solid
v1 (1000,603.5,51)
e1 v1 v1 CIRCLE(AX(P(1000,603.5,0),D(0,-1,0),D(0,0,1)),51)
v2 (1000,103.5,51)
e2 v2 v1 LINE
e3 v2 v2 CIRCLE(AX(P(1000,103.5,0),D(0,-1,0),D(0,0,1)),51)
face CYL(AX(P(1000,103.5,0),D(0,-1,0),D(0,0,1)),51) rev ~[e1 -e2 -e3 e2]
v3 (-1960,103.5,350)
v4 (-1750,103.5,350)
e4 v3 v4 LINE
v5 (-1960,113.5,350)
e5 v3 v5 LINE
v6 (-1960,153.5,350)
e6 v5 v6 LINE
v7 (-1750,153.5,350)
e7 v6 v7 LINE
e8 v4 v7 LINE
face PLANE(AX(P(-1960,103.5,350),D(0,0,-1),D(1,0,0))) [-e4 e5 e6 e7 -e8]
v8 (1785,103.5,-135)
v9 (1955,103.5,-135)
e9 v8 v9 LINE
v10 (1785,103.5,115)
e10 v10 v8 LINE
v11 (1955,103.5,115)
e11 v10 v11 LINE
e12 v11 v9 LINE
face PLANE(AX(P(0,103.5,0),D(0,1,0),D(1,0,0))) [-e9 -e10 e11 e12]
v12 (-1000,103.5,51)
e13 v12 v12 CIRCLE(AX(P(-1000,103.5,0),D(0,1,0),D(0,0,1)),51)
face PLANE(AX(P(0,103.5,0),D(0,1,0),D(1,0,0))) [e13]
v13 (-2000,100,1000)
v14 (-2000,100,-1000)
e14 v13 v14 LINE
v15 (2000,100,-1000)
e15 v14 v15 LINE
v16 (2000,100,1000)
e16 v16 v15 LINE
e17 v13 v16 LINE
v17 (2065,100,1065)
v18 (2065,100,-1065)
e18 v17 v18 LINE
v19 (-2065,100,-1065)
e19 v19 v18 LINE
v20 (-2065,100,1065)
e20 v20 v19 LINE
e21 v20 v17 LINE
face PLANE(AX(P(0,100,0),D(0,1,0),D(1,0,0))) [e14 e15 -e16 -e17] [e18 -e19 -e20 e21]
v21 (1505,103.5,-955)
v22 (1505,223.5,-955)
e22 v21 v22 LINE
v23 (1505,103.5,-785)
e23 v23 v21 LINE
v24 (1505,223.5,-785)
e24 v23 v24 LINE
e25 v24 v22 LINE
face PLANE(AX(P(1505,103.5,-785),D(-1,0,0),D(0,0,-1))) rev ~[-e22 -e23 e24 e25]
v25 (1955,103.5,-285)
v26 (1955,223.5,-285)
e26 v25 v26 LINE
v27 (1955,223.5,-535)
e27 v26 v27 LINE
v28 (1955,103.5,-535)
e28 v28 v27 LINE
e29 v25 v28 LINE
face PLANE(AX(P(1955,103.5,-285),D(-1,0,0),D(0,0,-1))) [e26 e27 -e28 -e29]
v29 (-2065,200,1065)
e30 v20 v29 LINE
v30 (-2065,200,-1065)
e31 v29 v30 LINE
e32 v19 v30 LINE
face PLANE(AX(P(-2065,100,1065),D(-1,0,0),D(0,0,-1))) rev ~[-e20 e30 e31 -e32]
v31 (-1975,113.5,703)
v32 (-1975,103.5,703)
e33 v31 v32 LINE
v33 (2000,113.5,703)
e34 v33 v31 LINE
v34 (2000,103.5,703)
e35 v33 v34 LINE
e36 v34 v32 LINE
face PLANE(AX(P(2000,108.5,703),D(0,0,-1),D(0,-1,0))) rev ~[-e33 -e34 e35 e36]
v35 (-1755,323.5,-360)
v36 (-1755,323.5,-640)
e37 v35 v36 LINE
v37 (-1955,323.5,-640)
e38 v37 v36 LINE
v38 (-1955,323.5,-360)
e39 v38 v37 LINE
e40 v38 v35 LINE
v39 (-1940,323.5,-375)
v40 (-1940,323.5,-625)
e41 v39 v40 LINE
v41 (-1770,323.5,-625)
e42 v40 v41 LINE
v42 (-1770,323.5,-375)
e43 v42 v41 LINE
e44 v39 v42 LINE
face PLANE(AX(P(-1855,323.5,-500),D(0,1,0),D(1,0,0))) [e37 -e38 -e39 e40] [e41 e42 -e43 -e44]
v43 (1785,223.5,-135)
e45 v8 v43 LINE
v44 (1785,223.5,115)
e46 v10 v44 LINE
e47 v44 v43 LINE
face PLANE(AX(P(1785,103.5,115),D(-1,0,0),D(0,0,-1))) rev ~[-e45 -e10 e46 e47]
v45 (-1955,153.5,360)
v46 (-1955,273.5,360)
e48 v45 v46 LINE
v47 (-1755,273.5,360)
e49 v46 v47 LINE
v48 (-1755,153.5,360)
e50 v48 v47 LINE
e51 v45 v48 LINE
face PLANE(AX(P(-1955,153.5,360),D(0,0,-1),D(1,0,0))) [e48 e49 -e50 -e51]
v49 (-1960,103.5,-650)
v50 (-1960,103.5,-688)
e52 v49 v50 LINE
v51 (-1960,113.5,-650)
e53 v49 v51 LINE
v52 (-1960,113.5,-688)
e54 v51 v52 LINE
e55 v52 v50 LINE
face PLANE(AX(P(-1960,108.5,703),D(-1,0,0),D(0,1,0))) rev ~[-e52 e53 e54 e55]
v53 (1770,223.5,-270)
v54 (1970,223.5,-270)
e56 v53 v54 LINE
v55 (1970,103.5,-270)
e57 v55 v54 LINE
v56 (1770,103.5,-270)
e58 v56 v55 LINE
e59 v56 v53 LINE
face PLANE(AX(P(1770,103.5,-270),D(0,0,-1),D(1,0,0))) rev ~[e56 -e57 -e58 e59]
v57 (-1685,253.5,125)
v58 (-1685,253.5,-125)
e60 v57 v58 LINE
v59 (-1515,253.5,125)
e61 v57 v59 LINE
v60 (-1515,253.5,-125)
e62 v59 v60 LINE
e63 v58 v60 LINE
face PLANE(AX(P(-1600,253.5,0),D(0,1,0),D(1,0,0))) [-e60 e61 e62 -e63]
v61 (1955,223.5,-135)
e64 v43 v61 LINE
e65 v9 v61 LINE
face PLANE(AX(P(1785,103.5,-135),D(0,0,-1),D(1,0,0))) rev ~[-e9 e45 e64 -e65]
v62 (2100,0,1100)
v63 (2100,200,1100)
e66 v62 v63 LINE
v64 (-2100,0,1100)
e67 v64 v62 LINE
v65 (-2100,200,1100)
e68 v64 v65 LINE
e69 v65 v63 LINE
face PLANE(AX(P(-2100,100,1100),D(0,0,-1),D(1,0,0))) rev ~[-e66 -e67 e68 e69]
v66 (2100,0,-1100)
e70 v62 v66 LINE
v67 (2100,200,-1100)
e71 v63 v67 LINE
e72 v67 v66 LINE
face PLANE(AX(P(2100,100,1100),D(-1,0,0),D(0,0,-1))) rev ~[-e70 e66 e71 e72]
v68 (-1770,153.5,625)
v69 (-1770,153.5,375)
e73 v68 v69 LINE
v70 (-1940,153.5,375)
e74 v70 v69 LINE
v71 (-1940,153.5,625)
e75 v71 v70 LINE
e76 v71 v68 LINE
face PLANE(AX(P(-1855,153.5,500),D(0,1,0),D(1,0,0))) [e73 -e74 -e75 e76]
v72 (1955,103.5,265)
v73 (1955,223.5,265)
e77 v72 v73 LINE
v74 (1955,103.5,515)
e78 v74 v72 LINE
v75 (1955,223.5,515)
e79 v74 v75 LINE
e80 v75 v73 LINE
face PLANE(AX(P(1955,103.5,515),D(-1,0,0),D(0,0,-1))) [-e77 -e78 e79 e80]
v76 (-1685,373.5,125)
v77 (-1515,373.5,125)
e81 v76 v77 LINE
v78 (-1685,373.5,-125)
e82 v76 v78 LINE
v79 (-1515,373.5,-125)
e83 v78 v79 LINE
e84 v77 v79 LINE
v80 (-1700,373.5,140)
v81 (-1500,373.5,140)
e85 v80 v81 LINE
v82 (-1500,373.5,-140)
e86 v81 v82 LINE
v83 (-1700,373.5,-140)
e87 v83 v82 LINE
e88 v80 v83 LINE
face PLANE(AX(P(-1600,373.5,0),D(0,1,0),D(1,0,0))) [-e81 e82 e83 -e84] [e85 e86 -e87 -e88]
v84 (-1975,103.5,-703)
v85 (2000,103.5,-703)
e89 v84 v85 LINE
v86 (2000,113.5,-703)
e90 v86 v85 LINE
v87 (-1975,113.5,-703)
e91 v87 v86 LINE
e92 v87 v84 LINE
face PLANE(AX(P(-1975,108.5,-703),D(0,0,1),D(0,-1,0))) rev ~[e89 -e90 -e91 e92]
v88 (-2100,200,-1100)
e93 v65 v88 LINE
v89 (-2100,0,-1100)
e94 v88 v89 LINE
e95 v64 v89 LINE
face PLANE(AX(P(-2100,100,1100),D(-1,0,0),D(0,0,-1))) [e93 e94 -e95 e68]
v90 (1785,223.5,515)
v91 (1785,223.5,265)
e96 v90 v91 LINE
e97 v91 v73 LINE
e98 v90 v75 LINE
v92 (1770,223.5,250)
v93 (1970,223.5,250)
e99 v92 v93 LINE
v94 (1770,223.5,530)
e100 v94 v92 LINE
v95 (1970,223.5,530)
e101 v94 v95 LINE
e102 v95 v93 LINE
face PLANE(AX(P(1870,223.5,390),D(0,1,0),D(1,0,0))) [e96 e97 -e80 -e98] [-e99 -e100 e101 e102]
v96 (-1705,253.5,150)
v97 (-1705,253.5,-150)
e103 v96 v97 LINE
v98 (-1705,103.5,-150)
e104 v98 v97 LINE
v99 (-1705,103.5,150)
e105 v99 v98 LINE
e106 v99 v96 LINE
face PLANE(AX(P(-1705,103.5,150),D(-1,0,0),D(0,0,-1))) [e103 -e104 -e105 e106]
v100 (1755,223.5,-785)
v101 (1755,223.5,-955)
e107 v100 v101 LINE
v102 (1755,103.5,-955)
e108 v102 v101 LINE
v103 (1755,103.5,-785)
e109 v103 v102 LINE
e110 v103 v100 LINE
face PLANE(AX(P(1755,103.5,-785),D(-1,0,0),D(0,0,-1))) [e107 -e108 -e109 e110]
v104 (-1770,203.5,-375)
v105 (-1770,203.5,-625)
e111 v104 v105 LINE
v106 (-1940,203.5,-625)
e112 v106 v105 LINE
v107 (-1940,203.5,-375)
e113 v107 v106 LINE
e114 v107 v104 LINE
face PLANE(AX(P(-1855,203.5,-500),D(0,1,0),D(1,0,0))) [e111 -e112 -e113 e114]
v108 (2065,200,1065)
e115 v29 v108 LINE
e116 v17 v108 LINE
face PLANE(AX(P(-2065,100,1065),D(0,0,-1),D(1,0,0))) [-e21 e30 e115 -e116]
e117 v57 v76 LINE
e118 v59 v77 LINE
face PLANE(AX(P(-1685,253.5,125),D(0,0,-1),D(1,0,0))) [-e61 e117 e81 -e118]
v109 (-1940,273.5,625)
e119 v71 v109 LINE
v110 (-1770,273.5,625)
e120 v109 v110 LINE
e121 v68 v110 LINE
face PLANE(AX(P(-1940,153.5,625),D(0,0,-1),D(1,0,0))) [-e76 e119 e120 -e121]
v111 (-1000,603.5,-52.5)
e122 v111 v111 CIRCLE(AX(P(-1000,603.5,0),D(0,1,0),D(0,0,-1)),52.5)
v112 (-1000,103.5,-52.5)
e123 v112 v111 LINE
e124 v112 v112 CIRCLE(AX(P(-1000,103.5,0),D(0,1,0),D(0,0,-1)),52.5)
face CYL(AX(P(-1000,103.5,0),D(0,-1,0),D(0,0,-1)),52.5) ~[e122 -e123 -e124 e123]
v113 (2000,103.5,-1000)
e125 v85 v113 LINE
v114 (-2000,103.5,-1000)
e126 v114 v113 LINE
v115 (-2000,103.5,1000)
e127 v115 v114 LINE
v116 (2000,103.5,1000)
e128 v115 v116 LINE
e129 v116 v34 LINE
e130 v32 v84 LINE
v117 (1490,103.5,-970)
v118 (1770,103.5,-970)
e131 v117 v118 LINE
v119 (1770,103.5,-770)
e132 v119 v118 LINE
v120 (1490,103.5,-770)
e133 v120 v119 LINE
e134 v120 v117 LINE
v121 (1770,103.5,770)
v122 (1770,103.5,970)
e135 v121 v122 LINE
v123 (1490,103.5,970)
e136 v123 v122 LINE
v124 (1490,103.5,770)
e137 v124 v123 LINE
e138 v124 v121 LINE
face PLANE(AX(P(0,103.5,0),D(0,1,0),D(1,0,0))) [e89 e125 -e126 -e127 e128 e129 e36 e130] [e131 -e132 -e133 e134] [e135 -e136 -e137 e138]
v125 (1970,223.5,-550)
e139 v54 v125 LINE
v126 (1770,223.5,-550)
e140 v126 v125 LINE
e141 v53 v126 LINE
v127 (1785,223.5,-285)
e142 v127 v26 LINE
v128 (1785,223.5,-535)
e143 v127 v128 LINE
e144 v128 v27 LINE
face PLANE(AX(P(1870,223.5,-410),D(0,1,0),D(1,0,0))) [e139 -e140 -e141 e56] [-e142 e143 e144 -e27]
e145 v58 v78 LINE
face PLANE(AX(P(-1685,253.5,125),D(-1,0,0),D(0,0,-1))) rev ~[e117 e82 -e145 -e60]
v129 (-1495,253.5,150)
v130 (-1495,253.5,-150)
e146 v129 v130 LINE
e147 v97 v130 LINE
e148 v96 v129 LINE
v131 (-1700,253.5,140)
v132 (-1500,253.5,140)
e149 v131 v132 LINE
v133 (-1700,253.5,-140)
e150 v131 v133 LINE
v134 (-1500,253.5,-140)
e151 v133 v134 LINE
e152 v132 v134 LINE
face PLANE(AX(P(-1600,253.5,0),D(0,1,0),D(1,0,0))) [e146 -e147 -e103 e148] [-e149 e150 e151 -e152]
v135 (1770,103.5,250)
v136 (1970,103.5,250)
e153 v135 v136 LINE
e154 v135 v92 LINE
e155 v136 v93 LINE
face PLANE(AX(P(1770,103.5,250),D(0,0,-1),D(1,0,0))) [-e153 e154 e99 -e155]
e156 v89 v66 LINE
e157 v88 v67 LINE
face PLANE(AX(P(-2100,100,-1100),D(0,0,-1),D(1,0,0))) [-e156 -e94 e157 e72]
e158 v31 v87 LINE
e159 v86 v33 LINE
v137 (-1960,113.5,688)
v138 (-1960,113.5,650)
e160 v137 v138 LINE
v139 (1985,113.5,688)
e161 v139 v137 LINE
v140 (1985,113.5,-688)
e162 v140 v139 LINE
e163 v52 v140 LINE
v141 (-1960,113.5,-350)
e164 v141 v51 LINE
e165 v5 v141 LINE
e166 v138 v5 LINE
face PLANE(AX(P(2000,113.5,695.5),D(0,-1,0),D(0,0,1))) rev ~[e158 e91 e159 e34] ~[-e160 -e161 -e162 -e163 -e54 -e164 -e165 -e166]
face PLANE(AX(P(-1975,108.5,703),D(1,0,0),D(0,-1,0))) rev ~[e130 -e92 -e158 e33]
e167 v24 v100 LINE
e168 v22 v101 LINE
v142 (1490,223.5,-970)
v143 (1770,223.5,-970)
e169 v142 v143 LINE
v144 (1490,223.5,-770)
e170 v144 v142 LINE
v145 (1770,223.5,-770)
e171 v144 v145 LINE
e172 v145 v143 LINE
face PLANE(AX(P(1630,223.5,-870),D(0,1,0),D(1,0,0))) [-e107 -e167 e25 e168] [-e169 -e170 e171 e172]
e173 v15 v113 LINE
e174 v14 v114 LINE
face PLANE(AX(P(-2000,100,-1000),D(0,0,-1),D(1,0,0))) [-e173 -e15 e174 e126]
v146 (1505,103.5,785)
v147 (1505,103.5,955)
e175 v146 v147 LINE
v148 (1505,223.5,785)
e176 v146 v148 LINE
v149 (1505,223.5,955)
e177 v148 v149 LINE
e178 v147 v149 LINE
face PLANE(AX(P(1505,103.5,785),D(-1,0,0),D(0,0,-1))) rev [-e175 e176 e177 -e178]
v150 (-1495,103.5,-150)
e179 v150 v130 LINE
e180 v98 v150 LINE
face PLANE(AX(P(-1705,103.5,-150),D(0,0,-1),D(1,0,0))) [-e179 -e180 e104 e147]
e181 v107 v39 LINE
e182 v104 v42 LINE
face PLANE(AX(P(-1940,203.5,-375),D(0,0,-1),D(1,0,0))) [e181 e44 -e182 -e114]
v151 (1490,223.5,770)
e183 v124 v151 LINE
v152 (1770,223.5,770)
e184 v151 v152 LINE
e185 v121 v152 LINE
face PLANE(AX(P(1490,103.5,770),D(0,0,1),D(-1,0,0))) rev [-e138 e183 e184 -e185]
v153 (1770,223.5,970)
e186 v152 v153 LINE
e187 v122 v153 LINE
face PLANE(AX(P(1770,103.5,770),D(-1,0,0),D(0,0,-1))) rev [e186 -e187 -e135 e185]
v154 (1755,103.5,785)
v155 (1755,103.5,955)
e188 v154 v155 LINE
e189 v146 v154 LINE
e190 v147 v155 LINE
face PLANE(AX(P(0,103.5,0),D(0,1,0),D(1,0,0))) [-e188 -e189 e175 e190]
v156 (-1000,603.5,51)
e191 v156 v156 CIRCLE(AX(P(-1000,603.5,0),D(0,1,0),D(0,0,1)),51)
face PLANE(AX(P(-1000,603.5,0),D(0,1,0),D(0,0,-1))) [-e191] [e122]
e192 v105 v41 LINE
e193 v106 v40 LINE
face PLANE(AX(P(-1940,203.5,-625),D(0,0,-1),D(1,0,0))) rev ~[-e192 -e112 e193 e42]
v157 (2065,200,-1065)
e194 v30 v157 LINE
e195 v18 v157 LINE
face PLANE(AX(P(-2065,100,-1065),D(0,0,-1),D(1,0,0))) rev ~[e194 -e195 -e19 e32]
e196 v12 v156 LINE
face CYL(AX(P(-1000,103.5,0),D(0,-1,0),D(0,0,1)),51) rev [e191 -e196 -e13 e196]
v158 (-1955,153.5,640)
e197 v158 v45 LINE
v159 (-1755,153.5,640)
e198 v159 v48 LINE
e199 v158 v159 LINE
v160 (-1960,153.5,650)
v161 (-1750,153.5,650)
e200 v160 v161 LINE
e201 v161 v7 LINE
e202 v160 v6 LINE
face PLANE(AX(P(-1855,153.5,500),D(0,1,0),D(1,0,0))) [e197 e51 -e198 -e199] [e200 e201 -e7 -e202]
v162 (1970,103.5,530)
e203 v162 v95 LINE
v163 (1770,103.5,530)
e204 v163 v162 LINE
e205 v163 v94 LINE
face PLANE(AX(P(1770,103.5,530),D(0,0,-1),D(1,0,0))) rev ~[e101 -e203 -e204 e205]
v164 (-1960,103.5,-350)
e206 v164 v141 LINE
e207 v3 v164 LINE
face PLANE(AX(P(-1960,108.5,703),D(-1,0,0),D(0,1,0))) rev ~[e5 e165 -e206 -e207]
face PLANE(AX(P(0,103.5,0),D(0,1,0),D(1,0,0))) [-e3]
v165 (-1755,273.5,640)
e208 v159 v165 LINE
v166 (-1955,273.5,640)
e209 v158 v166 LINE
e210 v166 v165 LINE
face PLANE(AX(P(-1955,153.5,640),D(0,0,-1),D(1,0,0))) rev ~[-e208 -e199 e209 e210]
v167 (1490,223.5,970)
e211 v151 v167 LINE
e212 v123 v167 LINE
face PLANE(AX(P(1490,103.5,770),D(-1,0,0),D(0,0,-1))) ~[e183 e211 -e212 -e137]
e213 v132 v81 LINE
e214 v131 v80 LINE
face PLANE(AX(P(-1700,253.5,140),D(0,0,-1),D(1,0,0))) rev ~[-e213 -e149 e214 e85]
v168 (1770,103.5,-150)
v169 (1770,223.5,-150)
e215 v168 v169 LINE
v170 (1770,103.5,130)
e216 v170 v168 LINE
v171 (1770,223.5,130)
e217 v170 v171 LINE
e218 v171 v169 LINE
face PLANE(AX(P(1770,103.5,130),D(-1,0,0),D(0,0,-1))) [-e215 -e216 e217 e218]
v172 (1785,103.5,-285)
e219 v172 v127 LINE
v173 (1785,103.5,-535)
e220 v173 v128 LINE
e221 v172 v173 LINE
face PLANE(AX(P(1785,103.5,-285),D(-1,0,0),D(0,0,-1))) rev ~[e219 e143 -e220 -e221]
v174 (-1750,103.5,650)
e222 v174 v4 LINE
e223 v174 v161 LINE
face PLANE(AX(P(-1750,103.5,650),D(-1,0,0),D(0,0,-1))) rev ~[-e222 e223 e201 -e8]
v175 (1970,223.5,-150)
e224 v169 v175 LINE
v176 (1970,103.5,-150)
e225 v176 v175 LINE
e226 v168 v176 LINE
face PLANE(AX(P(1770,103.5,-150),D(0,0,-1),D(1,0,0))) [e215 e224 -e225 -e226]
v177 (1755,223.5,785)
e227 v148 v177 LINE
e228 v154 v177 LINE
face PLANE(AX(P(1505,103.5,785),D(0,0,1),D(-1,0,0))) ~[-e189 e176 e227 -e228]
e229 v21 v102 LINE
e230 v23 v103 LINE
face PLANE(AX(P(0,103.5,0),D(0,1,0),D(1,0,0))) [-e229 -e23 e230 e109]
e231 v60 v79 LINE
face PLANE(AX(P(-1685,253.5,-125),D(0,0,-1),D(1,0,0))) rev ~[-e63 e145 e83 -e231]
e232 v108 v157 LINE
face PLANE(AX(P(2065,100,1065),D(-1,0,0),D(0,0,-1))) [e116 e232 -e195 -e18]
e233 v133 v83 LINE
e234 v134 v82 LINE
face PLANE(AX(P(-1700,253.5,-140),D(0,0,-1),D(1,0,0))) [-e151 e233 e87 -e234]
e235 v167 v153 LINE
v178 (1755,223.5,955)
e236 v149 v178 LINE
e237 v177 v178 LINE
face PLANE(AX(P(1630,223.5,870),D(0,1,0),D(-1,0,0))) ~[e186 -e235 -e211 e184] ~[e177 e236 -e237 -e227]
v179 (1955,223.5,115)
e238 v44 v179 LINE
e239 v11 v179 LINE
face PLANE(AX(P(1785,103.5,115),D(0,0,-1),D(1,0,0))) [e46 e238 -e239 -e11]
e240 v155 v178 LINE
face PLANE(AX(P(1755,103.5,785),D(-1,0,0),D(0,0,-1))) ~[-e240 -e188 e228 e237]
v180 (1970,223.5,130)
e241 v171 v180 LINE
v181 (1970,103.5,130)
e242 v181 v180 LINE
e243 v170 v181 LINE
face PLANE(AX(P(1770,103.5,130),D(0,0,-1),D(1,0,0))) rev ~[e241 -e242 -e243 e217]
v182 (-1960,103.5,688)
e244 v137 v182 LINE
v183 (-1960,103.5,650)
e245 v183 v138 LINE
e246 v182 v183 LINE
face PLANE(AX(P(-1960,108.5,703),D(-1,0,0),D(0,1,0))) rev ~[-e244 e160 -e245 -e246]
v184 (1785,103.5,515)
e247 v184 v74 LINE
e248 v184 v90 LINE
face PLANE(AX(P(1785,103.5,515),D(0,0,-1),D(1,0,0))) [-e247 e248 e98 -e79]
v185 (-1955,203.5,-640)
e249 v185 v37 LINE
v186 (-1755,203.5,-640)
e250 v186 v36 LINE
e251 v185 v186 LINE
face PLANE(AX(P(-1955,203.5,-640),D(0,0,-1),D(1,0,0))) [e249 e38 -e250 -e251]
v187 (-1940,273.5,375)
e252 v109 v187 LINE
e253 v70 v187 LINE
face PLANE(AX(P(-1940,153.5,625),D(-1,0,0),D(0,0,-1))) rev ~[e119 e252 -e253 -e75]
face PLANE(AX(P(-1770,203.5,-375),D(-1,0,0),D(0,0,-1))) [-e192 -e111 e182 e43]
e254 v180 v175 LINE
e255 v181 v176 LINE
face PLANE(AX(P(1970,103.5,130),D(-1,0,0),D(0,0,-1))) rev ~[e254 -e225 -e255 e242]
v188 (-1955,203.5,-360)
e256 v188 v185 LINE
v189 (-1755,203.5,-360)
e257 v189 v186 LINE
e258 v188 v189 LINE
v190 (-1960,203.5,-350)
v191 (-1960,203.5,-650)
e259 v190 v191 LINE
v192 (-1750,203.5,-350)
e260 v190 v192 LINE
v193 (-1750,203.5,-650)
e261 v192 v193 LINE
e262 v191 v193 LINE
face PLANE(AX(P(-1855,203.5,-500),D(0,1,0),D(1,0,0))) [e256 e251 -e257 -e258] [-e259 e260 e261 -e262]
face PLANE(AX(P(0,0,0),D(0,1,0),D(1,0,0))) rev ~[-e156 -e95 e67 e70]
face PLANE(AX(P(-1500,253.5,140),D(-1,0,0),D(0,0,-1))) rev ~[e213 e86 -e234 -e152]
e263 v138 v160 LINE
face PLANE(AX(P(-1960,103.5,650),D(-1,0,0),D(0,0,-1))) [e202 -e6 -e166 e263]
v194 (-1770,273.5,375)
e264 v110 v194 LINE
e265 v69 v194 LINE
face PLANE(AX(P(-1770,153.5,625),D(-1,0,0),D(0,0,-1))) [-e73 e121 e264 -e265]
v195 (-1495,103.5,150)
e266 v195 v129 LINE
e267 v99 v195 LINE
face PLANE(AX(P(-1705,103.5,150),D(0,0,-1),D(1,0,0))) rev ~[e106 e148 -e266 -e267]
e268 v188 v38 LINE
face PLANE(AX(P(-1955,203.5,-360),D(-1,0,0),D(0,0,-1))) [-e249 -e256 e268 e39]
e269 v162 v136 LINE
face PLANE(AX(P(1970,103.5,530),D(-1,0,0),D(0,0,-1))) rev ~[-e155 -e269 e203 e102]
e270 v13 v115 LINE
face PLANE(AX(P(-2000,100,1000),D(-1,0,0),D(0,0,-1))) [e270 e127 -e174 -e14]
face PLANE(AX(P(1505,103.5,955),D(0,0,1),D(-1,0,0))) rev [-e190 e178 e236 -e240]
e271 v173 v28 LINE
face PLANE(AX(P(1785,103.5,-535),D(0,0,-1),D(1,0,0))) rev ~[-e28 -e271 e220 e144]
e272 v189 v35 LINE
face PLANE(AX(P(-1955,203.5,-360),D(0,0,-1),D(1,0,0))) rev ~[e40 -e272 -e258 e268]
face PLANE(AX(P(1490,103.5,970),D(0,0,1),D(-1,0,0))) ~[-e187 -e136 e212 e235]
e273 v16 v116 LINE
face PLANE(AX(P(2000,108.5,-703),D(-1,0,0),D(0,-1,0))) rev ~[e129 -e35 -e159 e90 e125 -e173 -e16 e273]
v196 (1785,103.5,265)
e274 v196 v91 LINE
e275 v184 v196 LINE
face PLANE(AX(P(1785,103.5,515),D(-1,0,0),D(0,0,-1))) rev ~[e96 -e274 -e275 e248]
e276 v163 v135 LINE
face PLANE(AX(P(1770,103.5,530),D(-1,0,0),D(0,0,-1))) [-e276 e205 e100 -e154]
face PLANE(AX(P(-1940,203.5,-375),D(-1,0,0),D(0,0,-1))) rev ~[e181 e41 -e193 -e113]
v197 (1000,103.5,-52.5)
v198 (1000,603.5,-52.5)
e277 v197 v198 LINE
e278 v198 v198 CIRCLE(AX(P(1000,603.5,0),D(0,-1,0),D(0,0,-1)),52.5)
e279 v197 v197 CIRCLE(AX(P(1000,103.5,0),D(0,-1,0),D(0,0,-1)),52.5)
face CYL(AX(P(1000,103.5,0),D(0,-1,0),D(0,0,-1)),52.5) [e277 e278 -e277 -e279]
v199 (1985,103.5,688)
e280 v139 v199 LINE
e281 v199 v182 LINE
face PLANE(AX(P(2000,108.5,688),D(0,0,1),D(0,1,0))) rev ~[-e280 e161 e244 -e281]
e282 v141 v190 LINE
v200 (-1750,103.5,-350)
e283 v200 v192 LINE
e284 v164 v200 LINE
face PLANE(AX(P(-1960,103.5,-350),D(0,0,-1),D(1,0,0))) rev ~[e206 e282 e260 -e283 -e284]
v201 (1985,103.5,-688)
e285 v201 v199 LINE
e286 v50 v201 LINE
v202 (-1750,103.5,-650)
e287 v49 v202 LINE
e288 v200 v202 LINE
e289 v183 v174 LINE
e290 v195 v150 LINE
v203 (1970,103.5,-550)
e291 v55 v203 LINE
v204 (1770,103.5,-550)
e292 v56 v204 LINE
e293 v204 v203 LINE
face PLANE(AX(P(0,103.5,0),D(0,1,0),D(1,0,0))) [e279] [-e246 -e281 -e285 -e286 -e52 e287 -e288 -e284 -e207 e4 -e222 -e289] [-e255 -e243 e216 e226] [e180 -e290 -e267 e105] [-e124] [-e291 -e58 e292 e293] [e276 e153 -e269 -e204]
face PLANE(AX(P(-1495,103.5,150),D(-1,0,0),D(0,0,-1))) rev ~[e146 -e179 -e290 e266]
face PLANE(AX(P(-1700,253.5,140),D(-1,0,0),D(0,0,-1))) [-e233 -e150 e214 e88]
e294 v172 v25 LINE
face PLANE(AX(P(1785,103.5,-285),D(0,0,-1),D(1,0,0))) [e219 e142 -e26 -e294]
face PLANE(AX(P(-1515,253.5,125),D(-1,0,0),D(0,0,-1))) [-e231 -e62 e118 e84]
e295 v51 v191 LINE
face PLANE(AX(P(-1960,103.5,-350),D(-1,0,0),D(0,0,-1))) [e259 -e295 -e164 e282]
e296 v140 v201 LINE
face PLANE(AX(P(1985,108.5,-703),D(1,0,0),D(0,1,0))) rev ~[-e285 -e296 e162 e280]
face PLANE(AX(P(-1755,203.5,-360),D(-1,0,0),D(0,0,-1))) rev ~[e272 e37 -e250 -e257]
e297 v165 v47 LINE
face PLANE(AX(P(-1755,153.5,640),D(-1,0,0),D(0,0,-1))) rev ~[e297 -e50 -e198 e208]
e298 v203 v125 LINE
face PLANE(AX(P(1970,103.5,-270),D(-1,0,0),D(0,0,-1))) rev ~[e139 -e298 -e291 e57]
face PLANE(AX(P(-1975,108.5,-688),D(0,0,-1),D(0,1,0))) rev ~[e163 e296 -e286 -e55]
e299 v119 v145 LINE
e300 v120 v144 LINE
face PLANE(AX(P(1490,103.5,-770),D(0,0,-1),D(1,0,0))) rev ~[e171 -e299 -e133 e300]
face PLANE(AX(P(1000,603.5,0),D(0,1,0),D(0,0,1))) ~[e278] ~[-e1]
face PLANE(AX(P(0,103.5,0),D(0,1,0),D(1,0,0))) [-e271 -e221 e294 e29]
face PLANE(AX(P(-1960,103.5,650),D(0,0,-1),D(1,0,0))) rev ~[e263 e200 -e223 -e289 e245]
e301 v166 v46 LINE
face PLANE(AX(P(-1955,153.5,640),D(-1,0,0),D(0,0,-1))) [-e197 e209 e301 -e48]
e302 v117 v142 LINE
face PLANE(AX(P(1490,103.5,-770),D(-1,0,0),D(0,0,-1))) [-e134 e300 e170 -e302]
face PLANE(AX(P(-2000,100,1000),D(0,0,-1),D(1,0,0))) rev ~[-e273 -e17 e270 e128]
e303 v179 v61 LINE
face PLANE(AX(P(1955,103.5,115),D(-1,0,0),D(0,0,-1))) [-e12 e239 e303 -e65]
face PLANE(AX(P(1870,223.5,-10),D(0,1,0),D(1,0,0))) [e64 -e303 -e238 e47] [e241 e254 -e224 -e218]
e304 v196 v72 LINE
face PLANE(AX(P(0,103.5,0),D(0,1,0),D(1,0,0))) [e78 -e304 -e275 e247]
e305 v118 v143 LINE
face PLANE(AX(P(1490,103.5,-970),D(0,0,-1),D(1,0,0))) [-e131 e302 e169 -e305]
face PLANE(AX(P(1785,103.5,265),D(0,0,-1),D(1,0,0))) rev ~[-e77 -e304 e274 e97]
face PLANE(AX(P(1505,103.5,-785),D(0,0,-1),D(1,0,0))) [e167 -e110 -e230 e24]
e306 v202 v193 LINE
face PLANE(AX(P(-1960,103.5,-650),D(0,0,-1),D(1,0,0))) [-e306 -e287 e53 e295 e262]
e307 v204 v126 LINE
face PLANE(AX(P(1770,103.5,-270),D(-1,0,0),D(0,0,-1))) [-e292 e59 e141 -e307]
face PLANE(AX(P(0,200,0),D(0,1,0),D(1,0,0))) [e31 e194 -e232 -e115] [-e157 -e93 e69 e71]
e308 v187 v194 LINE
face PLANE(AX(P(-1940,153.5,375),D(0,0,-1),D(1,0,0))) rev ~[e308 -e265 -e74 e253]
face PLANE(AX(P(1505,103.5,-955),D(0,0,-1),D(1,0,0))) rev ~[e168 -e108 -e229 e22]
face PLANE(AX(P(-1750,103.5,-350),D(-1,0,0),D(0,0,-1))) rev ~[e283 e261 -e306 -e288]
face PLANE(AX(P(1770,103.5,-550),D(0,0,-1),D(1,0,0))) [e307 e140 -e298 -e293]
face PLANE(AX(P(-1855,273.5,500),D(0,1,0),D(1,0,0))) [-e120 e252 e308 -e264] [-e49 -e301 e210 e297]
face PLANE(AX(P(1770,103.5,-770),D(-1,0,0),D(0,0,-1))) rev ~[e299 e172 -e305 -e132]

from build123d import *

# Parameters (mm, degrees)
SKETCH_1_W             = 4200
SKETCH_1_H             = 2200
EXTRUDE_1_DEPTH        = 100
SKETCH_2_W             = 4000
SKETCH_2_H             = 2000
EXTRUDE_2_DEPTH        = 3.5
SKETCH_3_W             = 4200
SKETCH_3_H             = 2200
SKETCH_3_W_2           = 4130
SKETCH_3_H_2           = 2130
EXTRUDE_4_DEPTH        = 100
SKETCH_4_W             = 210
SKETCH_4_H             = 300
EXTRUDE_5_DEPTH        = 100
SKETCH_4_4_W           = 210
SKETCH_4_4_H           = 300
EXTRUDE_6_DEPTH        = 150
SKETCH_4_5_W           = 210
SKETCH_4_5_H           = 300
EXTRUDE_7_DEPTH        = 50
SKETCH_7_R             = 52.5
SKETCH_7_R_2           = 51
EXTRUDE_8_DEPTH        = 500
SKETCH_8_W             = 280
SKETCH_8_H             = 200
SKETCH_8_W_2           = 250
SKETCH_8_H_2           = 170
EXTRUDE_9_DEPTH        = 120
SKETCH_9_W             = 200
SKETCH_9_H             = 280
SKETCH_9_W_2           = 170
SKETCH_9_H_2           = 250
EXTRUDE_10_DEPTH       = 120
PATTERN_LINEAR_1_COUNT = 3
PATTERN_LINEAR_1_PITCH = 400
SKETCH_10_W            = 200
SKETCH_10_H            = 280
SKETCH_10_W_2          = 170
SKETCH_10_H_2          = 250
EXTRUDE_11_DEPTH       = 120
SKETCH_11_W            = 200
SKETCH_11_H            = 280
SKETCH_11_W_2          = 170
SKETCH_11_H_2          = 250
EXTRUDE_12_DEPTH       = 120
SKETCH_12_W            = 200
SKETCH_12_H            = 280
SKETCH_12_W_2          = 170
SKETCH_12_H_2          = 250
EXTRUDE_13_DEPTH       = 120
SKETCH_24_W            = 15
SKETCH_24_H            = 10


with BuildPart() as part:
    # 草图1 → 凸台-拉伸1 (new body)
    with BuildSketch(Plane(origin=(0, 0, 0), x_dir=(1, 0, 0), z_dir=(0, 1, 0))):
        Rectangle(SKETCH_1_W, SKETCH_1_H)
    extrude(amount=EXTRUDE_1_DEPTH)

    # 草图2 → 凸台-拉伸2 (add)
    with BuildSketch(Plane(origin=(0, 100, 0), x_dir=(1, 0, 0), z_dir=(0, 1, 0))):
        Rectangle(SKETCH_2_W, SKETCH_2_H)
    extrude(amount=EXTRUDE_2_DEPTH)

    # 草图3 → 凸台-拉伸4 (add)
    with BuildSketch(Plane(origin=(0, 100, 0), x_dir=(1, 0, 0), z_dir=(0, 1, 0))):
        Rectangle(SKETCH_3_W, SKETCH_3_H)
        Rectangle(SKETCH_3_W_2, SKETCH_3_H_2, mode=Mode.SUBTRACT)
    extrude(amount=EXTRUDE_4_DEPTH)

    # 草图4 → 凸台-拉伸5 (add)
    with BuildSketch(Plane(origin=(0, 103.5, 0), x_dir=(1, 0, 0), z_dir=(0, 1, 0))):
        with Locations((-1855, 500)):
            Rectangle(SKETCH_4_W, SKETCH_4_H)
    extrude(amount=EXTRUDE_5_DEPTH)

    # 草图4<4> → 凸台-拉伸6 (add)
    with BuildSketch(Plane(origin=(0, 103.5, 0), x_dir=(1, 0, 0), z_dir=(0, 1, 0))):
        with Locations((-1600, 0)):
            Rectangle(SKETCH_4_4_W, SKETCH_4_4_H)
    extrude(amount=EXTRUDE_6_DEPTH)

    # 草图4<5> → 凸台-拉伸7 (add)
    with BuildSketch(Plane(origin=(0, 103.5, 0), x_dir=(1, 0, 0), z_dir=(0, 1, 0))):
        with Locations((-1855, -500)):
            Rectangle(SKETCH_4_5_W, SKETCH_4_5_H)
    extrude(amount=EXTRUDE_7_DEPTH)

    # 草图7 → 凸台-拉伸8 (add)
    with BuildSketch(Plane(origin=(0, 103.5, 0), x_dir=(1, 0, 0), z_dir=(0, 1, 0))):
        with Locations((-1000, 0)):
            Circle(SKETCH_7_R)
        with Locations((-1000, 0)):
            Circle(SKETCH_7_R_2, mode=Mode.SUBTRACT)
    extrude_8 = extrude(amount=EXTRUDE_8_DEPTH)

    # 镜向2: 凸台-拉伸8 across plane
    add(extrude_8.mirror(Plane(origin=(0, 0, 0), x_dir=(0, 0, 1), z_dir=(1, 0, 0))))

    # 草图8 → 凸台-拉伸9 (add)
    with BuildSketch(Plane(origin=(0, 103.5, 0), x_dir=(1, 0, 0), z_dir=(0, 1, 0))):
        with Locations((1630, 870)):
            Rectangle(SKETCH_8_W, SKETCH_8_H)
        with Locations((1630, 870)):
            Rectangle(SKETCH_8_W_2, SKETCH_8_H_2, mode=Mode.SUBTRACT)
    extrude_9 = extrude(amount=EXTRUDE_9_DEPTH)

    # 草图9 → 凸台-拉伸10 (add)
    with BuildSketch(Plane(origin=(0, 103.5, 0), x_dir=(1, 0, 0), z_dir=(0, 1, 0))):
        with Locations((1870, 410)):
            Rectangle(SKETCH_9_W, SKETCH_9_H)
        with Locations((1870, 410)):
            Rectangle(SKETCH_9_W_2, SKETCH_9_H_2, mode=Mode.SUBTRACT)
    extrude_10 = extrude(amount=EXTRUDE_10_DEPTH)

    # 阵列(线性)1: 凸台-拉伸10 ×3
    with Locations(*[(0, 0, i * PATTERN_LINEAR_1_PITCH) for i in range(1, PATTERN_LINEAR_1_COUNT)]):
        add(extrude_10)

    # 镜向3: 凸台-拉伸9 across plane
    add(extrude_9.mirror(Plane.XY))

    # 草图10 → 凸台-拉伸11 (add)
    with BuildSketch(Plane(origin=(0, 203.5, 0), x_dir=(1, 0, 0), z_dir=(0, 1, 0))):
        with Locations((-1855, 500)):
            Rectangle(SKETCH_10_W, SKETCH_10_H)
        with Locations((-1855, 500)):
            Rectangle(SKETCH_10_W_2, SKETCH_10_H_2, mode=Mode.SUBTRACT)
    extrude(amount=EXTRUDE_11_DEPTH)

    # 草图11 → 凸台-拉伸12 (add)
    with BuildSketch(Plane(origin=(0, 253.5, 0), x_dir=(1, 0, 0), z_dir=(0, 1, 0))):
        with Locations((-1600, 0)):
            Rectangle(SKETCH_11_W, SKETCH_11_H)
        with Locations((-1600, 0)):
            Rectangle(SKETCH_11_W_2, SKETCH_11_H_2, mode=Mode.SUBTRACT)
    extrude(amount=EXTRUDE_12_DEPTH)

    # 草图12 → 凸台-拉伸13 (add)
    with BuildSketch(Plane(origin=(0, 153.5, 0), x_dir=(1, 0, 0), z_dir=(0, 1, 0))):
        with Locations((-1855, -500)):
            Rectangle(SKETCH_12_W, SKETCH_12_H)
        with Locations((-1855, -500)):
            Rectangle(SKETCH_12_W_2, SKETCH_12_H_2, mode=Mode.SUBTRACT)
    extrude(amount=EXTRUDE_13_DEPTH)

    # 扫描2: sweep along a path in 草图23
    with BuildLine(Plane(origin=(0, 103.5, 0), x_dir=(1, 0, 0), z_dir=(0, 1, 0))) as sweep_2_path:
        Line((2000, -703), (-1975, -703))
        Line((-1975, -703), (-1975, 703))
        Line((-1975, 703), (2000, 703))
        Line((2000, 703), (2000, -703))
    # 草图24 → 扫描2 (sweep)
    with BuildSketch(Plane.XY):
        with Locations((-1967.5, 108.5)):
            Rectangle(SKETCH_24_W, SKETCH_24_H)
    sweep(path=sweep_2_path.line, transition=Transition.RIGHT)


solid = part.part
